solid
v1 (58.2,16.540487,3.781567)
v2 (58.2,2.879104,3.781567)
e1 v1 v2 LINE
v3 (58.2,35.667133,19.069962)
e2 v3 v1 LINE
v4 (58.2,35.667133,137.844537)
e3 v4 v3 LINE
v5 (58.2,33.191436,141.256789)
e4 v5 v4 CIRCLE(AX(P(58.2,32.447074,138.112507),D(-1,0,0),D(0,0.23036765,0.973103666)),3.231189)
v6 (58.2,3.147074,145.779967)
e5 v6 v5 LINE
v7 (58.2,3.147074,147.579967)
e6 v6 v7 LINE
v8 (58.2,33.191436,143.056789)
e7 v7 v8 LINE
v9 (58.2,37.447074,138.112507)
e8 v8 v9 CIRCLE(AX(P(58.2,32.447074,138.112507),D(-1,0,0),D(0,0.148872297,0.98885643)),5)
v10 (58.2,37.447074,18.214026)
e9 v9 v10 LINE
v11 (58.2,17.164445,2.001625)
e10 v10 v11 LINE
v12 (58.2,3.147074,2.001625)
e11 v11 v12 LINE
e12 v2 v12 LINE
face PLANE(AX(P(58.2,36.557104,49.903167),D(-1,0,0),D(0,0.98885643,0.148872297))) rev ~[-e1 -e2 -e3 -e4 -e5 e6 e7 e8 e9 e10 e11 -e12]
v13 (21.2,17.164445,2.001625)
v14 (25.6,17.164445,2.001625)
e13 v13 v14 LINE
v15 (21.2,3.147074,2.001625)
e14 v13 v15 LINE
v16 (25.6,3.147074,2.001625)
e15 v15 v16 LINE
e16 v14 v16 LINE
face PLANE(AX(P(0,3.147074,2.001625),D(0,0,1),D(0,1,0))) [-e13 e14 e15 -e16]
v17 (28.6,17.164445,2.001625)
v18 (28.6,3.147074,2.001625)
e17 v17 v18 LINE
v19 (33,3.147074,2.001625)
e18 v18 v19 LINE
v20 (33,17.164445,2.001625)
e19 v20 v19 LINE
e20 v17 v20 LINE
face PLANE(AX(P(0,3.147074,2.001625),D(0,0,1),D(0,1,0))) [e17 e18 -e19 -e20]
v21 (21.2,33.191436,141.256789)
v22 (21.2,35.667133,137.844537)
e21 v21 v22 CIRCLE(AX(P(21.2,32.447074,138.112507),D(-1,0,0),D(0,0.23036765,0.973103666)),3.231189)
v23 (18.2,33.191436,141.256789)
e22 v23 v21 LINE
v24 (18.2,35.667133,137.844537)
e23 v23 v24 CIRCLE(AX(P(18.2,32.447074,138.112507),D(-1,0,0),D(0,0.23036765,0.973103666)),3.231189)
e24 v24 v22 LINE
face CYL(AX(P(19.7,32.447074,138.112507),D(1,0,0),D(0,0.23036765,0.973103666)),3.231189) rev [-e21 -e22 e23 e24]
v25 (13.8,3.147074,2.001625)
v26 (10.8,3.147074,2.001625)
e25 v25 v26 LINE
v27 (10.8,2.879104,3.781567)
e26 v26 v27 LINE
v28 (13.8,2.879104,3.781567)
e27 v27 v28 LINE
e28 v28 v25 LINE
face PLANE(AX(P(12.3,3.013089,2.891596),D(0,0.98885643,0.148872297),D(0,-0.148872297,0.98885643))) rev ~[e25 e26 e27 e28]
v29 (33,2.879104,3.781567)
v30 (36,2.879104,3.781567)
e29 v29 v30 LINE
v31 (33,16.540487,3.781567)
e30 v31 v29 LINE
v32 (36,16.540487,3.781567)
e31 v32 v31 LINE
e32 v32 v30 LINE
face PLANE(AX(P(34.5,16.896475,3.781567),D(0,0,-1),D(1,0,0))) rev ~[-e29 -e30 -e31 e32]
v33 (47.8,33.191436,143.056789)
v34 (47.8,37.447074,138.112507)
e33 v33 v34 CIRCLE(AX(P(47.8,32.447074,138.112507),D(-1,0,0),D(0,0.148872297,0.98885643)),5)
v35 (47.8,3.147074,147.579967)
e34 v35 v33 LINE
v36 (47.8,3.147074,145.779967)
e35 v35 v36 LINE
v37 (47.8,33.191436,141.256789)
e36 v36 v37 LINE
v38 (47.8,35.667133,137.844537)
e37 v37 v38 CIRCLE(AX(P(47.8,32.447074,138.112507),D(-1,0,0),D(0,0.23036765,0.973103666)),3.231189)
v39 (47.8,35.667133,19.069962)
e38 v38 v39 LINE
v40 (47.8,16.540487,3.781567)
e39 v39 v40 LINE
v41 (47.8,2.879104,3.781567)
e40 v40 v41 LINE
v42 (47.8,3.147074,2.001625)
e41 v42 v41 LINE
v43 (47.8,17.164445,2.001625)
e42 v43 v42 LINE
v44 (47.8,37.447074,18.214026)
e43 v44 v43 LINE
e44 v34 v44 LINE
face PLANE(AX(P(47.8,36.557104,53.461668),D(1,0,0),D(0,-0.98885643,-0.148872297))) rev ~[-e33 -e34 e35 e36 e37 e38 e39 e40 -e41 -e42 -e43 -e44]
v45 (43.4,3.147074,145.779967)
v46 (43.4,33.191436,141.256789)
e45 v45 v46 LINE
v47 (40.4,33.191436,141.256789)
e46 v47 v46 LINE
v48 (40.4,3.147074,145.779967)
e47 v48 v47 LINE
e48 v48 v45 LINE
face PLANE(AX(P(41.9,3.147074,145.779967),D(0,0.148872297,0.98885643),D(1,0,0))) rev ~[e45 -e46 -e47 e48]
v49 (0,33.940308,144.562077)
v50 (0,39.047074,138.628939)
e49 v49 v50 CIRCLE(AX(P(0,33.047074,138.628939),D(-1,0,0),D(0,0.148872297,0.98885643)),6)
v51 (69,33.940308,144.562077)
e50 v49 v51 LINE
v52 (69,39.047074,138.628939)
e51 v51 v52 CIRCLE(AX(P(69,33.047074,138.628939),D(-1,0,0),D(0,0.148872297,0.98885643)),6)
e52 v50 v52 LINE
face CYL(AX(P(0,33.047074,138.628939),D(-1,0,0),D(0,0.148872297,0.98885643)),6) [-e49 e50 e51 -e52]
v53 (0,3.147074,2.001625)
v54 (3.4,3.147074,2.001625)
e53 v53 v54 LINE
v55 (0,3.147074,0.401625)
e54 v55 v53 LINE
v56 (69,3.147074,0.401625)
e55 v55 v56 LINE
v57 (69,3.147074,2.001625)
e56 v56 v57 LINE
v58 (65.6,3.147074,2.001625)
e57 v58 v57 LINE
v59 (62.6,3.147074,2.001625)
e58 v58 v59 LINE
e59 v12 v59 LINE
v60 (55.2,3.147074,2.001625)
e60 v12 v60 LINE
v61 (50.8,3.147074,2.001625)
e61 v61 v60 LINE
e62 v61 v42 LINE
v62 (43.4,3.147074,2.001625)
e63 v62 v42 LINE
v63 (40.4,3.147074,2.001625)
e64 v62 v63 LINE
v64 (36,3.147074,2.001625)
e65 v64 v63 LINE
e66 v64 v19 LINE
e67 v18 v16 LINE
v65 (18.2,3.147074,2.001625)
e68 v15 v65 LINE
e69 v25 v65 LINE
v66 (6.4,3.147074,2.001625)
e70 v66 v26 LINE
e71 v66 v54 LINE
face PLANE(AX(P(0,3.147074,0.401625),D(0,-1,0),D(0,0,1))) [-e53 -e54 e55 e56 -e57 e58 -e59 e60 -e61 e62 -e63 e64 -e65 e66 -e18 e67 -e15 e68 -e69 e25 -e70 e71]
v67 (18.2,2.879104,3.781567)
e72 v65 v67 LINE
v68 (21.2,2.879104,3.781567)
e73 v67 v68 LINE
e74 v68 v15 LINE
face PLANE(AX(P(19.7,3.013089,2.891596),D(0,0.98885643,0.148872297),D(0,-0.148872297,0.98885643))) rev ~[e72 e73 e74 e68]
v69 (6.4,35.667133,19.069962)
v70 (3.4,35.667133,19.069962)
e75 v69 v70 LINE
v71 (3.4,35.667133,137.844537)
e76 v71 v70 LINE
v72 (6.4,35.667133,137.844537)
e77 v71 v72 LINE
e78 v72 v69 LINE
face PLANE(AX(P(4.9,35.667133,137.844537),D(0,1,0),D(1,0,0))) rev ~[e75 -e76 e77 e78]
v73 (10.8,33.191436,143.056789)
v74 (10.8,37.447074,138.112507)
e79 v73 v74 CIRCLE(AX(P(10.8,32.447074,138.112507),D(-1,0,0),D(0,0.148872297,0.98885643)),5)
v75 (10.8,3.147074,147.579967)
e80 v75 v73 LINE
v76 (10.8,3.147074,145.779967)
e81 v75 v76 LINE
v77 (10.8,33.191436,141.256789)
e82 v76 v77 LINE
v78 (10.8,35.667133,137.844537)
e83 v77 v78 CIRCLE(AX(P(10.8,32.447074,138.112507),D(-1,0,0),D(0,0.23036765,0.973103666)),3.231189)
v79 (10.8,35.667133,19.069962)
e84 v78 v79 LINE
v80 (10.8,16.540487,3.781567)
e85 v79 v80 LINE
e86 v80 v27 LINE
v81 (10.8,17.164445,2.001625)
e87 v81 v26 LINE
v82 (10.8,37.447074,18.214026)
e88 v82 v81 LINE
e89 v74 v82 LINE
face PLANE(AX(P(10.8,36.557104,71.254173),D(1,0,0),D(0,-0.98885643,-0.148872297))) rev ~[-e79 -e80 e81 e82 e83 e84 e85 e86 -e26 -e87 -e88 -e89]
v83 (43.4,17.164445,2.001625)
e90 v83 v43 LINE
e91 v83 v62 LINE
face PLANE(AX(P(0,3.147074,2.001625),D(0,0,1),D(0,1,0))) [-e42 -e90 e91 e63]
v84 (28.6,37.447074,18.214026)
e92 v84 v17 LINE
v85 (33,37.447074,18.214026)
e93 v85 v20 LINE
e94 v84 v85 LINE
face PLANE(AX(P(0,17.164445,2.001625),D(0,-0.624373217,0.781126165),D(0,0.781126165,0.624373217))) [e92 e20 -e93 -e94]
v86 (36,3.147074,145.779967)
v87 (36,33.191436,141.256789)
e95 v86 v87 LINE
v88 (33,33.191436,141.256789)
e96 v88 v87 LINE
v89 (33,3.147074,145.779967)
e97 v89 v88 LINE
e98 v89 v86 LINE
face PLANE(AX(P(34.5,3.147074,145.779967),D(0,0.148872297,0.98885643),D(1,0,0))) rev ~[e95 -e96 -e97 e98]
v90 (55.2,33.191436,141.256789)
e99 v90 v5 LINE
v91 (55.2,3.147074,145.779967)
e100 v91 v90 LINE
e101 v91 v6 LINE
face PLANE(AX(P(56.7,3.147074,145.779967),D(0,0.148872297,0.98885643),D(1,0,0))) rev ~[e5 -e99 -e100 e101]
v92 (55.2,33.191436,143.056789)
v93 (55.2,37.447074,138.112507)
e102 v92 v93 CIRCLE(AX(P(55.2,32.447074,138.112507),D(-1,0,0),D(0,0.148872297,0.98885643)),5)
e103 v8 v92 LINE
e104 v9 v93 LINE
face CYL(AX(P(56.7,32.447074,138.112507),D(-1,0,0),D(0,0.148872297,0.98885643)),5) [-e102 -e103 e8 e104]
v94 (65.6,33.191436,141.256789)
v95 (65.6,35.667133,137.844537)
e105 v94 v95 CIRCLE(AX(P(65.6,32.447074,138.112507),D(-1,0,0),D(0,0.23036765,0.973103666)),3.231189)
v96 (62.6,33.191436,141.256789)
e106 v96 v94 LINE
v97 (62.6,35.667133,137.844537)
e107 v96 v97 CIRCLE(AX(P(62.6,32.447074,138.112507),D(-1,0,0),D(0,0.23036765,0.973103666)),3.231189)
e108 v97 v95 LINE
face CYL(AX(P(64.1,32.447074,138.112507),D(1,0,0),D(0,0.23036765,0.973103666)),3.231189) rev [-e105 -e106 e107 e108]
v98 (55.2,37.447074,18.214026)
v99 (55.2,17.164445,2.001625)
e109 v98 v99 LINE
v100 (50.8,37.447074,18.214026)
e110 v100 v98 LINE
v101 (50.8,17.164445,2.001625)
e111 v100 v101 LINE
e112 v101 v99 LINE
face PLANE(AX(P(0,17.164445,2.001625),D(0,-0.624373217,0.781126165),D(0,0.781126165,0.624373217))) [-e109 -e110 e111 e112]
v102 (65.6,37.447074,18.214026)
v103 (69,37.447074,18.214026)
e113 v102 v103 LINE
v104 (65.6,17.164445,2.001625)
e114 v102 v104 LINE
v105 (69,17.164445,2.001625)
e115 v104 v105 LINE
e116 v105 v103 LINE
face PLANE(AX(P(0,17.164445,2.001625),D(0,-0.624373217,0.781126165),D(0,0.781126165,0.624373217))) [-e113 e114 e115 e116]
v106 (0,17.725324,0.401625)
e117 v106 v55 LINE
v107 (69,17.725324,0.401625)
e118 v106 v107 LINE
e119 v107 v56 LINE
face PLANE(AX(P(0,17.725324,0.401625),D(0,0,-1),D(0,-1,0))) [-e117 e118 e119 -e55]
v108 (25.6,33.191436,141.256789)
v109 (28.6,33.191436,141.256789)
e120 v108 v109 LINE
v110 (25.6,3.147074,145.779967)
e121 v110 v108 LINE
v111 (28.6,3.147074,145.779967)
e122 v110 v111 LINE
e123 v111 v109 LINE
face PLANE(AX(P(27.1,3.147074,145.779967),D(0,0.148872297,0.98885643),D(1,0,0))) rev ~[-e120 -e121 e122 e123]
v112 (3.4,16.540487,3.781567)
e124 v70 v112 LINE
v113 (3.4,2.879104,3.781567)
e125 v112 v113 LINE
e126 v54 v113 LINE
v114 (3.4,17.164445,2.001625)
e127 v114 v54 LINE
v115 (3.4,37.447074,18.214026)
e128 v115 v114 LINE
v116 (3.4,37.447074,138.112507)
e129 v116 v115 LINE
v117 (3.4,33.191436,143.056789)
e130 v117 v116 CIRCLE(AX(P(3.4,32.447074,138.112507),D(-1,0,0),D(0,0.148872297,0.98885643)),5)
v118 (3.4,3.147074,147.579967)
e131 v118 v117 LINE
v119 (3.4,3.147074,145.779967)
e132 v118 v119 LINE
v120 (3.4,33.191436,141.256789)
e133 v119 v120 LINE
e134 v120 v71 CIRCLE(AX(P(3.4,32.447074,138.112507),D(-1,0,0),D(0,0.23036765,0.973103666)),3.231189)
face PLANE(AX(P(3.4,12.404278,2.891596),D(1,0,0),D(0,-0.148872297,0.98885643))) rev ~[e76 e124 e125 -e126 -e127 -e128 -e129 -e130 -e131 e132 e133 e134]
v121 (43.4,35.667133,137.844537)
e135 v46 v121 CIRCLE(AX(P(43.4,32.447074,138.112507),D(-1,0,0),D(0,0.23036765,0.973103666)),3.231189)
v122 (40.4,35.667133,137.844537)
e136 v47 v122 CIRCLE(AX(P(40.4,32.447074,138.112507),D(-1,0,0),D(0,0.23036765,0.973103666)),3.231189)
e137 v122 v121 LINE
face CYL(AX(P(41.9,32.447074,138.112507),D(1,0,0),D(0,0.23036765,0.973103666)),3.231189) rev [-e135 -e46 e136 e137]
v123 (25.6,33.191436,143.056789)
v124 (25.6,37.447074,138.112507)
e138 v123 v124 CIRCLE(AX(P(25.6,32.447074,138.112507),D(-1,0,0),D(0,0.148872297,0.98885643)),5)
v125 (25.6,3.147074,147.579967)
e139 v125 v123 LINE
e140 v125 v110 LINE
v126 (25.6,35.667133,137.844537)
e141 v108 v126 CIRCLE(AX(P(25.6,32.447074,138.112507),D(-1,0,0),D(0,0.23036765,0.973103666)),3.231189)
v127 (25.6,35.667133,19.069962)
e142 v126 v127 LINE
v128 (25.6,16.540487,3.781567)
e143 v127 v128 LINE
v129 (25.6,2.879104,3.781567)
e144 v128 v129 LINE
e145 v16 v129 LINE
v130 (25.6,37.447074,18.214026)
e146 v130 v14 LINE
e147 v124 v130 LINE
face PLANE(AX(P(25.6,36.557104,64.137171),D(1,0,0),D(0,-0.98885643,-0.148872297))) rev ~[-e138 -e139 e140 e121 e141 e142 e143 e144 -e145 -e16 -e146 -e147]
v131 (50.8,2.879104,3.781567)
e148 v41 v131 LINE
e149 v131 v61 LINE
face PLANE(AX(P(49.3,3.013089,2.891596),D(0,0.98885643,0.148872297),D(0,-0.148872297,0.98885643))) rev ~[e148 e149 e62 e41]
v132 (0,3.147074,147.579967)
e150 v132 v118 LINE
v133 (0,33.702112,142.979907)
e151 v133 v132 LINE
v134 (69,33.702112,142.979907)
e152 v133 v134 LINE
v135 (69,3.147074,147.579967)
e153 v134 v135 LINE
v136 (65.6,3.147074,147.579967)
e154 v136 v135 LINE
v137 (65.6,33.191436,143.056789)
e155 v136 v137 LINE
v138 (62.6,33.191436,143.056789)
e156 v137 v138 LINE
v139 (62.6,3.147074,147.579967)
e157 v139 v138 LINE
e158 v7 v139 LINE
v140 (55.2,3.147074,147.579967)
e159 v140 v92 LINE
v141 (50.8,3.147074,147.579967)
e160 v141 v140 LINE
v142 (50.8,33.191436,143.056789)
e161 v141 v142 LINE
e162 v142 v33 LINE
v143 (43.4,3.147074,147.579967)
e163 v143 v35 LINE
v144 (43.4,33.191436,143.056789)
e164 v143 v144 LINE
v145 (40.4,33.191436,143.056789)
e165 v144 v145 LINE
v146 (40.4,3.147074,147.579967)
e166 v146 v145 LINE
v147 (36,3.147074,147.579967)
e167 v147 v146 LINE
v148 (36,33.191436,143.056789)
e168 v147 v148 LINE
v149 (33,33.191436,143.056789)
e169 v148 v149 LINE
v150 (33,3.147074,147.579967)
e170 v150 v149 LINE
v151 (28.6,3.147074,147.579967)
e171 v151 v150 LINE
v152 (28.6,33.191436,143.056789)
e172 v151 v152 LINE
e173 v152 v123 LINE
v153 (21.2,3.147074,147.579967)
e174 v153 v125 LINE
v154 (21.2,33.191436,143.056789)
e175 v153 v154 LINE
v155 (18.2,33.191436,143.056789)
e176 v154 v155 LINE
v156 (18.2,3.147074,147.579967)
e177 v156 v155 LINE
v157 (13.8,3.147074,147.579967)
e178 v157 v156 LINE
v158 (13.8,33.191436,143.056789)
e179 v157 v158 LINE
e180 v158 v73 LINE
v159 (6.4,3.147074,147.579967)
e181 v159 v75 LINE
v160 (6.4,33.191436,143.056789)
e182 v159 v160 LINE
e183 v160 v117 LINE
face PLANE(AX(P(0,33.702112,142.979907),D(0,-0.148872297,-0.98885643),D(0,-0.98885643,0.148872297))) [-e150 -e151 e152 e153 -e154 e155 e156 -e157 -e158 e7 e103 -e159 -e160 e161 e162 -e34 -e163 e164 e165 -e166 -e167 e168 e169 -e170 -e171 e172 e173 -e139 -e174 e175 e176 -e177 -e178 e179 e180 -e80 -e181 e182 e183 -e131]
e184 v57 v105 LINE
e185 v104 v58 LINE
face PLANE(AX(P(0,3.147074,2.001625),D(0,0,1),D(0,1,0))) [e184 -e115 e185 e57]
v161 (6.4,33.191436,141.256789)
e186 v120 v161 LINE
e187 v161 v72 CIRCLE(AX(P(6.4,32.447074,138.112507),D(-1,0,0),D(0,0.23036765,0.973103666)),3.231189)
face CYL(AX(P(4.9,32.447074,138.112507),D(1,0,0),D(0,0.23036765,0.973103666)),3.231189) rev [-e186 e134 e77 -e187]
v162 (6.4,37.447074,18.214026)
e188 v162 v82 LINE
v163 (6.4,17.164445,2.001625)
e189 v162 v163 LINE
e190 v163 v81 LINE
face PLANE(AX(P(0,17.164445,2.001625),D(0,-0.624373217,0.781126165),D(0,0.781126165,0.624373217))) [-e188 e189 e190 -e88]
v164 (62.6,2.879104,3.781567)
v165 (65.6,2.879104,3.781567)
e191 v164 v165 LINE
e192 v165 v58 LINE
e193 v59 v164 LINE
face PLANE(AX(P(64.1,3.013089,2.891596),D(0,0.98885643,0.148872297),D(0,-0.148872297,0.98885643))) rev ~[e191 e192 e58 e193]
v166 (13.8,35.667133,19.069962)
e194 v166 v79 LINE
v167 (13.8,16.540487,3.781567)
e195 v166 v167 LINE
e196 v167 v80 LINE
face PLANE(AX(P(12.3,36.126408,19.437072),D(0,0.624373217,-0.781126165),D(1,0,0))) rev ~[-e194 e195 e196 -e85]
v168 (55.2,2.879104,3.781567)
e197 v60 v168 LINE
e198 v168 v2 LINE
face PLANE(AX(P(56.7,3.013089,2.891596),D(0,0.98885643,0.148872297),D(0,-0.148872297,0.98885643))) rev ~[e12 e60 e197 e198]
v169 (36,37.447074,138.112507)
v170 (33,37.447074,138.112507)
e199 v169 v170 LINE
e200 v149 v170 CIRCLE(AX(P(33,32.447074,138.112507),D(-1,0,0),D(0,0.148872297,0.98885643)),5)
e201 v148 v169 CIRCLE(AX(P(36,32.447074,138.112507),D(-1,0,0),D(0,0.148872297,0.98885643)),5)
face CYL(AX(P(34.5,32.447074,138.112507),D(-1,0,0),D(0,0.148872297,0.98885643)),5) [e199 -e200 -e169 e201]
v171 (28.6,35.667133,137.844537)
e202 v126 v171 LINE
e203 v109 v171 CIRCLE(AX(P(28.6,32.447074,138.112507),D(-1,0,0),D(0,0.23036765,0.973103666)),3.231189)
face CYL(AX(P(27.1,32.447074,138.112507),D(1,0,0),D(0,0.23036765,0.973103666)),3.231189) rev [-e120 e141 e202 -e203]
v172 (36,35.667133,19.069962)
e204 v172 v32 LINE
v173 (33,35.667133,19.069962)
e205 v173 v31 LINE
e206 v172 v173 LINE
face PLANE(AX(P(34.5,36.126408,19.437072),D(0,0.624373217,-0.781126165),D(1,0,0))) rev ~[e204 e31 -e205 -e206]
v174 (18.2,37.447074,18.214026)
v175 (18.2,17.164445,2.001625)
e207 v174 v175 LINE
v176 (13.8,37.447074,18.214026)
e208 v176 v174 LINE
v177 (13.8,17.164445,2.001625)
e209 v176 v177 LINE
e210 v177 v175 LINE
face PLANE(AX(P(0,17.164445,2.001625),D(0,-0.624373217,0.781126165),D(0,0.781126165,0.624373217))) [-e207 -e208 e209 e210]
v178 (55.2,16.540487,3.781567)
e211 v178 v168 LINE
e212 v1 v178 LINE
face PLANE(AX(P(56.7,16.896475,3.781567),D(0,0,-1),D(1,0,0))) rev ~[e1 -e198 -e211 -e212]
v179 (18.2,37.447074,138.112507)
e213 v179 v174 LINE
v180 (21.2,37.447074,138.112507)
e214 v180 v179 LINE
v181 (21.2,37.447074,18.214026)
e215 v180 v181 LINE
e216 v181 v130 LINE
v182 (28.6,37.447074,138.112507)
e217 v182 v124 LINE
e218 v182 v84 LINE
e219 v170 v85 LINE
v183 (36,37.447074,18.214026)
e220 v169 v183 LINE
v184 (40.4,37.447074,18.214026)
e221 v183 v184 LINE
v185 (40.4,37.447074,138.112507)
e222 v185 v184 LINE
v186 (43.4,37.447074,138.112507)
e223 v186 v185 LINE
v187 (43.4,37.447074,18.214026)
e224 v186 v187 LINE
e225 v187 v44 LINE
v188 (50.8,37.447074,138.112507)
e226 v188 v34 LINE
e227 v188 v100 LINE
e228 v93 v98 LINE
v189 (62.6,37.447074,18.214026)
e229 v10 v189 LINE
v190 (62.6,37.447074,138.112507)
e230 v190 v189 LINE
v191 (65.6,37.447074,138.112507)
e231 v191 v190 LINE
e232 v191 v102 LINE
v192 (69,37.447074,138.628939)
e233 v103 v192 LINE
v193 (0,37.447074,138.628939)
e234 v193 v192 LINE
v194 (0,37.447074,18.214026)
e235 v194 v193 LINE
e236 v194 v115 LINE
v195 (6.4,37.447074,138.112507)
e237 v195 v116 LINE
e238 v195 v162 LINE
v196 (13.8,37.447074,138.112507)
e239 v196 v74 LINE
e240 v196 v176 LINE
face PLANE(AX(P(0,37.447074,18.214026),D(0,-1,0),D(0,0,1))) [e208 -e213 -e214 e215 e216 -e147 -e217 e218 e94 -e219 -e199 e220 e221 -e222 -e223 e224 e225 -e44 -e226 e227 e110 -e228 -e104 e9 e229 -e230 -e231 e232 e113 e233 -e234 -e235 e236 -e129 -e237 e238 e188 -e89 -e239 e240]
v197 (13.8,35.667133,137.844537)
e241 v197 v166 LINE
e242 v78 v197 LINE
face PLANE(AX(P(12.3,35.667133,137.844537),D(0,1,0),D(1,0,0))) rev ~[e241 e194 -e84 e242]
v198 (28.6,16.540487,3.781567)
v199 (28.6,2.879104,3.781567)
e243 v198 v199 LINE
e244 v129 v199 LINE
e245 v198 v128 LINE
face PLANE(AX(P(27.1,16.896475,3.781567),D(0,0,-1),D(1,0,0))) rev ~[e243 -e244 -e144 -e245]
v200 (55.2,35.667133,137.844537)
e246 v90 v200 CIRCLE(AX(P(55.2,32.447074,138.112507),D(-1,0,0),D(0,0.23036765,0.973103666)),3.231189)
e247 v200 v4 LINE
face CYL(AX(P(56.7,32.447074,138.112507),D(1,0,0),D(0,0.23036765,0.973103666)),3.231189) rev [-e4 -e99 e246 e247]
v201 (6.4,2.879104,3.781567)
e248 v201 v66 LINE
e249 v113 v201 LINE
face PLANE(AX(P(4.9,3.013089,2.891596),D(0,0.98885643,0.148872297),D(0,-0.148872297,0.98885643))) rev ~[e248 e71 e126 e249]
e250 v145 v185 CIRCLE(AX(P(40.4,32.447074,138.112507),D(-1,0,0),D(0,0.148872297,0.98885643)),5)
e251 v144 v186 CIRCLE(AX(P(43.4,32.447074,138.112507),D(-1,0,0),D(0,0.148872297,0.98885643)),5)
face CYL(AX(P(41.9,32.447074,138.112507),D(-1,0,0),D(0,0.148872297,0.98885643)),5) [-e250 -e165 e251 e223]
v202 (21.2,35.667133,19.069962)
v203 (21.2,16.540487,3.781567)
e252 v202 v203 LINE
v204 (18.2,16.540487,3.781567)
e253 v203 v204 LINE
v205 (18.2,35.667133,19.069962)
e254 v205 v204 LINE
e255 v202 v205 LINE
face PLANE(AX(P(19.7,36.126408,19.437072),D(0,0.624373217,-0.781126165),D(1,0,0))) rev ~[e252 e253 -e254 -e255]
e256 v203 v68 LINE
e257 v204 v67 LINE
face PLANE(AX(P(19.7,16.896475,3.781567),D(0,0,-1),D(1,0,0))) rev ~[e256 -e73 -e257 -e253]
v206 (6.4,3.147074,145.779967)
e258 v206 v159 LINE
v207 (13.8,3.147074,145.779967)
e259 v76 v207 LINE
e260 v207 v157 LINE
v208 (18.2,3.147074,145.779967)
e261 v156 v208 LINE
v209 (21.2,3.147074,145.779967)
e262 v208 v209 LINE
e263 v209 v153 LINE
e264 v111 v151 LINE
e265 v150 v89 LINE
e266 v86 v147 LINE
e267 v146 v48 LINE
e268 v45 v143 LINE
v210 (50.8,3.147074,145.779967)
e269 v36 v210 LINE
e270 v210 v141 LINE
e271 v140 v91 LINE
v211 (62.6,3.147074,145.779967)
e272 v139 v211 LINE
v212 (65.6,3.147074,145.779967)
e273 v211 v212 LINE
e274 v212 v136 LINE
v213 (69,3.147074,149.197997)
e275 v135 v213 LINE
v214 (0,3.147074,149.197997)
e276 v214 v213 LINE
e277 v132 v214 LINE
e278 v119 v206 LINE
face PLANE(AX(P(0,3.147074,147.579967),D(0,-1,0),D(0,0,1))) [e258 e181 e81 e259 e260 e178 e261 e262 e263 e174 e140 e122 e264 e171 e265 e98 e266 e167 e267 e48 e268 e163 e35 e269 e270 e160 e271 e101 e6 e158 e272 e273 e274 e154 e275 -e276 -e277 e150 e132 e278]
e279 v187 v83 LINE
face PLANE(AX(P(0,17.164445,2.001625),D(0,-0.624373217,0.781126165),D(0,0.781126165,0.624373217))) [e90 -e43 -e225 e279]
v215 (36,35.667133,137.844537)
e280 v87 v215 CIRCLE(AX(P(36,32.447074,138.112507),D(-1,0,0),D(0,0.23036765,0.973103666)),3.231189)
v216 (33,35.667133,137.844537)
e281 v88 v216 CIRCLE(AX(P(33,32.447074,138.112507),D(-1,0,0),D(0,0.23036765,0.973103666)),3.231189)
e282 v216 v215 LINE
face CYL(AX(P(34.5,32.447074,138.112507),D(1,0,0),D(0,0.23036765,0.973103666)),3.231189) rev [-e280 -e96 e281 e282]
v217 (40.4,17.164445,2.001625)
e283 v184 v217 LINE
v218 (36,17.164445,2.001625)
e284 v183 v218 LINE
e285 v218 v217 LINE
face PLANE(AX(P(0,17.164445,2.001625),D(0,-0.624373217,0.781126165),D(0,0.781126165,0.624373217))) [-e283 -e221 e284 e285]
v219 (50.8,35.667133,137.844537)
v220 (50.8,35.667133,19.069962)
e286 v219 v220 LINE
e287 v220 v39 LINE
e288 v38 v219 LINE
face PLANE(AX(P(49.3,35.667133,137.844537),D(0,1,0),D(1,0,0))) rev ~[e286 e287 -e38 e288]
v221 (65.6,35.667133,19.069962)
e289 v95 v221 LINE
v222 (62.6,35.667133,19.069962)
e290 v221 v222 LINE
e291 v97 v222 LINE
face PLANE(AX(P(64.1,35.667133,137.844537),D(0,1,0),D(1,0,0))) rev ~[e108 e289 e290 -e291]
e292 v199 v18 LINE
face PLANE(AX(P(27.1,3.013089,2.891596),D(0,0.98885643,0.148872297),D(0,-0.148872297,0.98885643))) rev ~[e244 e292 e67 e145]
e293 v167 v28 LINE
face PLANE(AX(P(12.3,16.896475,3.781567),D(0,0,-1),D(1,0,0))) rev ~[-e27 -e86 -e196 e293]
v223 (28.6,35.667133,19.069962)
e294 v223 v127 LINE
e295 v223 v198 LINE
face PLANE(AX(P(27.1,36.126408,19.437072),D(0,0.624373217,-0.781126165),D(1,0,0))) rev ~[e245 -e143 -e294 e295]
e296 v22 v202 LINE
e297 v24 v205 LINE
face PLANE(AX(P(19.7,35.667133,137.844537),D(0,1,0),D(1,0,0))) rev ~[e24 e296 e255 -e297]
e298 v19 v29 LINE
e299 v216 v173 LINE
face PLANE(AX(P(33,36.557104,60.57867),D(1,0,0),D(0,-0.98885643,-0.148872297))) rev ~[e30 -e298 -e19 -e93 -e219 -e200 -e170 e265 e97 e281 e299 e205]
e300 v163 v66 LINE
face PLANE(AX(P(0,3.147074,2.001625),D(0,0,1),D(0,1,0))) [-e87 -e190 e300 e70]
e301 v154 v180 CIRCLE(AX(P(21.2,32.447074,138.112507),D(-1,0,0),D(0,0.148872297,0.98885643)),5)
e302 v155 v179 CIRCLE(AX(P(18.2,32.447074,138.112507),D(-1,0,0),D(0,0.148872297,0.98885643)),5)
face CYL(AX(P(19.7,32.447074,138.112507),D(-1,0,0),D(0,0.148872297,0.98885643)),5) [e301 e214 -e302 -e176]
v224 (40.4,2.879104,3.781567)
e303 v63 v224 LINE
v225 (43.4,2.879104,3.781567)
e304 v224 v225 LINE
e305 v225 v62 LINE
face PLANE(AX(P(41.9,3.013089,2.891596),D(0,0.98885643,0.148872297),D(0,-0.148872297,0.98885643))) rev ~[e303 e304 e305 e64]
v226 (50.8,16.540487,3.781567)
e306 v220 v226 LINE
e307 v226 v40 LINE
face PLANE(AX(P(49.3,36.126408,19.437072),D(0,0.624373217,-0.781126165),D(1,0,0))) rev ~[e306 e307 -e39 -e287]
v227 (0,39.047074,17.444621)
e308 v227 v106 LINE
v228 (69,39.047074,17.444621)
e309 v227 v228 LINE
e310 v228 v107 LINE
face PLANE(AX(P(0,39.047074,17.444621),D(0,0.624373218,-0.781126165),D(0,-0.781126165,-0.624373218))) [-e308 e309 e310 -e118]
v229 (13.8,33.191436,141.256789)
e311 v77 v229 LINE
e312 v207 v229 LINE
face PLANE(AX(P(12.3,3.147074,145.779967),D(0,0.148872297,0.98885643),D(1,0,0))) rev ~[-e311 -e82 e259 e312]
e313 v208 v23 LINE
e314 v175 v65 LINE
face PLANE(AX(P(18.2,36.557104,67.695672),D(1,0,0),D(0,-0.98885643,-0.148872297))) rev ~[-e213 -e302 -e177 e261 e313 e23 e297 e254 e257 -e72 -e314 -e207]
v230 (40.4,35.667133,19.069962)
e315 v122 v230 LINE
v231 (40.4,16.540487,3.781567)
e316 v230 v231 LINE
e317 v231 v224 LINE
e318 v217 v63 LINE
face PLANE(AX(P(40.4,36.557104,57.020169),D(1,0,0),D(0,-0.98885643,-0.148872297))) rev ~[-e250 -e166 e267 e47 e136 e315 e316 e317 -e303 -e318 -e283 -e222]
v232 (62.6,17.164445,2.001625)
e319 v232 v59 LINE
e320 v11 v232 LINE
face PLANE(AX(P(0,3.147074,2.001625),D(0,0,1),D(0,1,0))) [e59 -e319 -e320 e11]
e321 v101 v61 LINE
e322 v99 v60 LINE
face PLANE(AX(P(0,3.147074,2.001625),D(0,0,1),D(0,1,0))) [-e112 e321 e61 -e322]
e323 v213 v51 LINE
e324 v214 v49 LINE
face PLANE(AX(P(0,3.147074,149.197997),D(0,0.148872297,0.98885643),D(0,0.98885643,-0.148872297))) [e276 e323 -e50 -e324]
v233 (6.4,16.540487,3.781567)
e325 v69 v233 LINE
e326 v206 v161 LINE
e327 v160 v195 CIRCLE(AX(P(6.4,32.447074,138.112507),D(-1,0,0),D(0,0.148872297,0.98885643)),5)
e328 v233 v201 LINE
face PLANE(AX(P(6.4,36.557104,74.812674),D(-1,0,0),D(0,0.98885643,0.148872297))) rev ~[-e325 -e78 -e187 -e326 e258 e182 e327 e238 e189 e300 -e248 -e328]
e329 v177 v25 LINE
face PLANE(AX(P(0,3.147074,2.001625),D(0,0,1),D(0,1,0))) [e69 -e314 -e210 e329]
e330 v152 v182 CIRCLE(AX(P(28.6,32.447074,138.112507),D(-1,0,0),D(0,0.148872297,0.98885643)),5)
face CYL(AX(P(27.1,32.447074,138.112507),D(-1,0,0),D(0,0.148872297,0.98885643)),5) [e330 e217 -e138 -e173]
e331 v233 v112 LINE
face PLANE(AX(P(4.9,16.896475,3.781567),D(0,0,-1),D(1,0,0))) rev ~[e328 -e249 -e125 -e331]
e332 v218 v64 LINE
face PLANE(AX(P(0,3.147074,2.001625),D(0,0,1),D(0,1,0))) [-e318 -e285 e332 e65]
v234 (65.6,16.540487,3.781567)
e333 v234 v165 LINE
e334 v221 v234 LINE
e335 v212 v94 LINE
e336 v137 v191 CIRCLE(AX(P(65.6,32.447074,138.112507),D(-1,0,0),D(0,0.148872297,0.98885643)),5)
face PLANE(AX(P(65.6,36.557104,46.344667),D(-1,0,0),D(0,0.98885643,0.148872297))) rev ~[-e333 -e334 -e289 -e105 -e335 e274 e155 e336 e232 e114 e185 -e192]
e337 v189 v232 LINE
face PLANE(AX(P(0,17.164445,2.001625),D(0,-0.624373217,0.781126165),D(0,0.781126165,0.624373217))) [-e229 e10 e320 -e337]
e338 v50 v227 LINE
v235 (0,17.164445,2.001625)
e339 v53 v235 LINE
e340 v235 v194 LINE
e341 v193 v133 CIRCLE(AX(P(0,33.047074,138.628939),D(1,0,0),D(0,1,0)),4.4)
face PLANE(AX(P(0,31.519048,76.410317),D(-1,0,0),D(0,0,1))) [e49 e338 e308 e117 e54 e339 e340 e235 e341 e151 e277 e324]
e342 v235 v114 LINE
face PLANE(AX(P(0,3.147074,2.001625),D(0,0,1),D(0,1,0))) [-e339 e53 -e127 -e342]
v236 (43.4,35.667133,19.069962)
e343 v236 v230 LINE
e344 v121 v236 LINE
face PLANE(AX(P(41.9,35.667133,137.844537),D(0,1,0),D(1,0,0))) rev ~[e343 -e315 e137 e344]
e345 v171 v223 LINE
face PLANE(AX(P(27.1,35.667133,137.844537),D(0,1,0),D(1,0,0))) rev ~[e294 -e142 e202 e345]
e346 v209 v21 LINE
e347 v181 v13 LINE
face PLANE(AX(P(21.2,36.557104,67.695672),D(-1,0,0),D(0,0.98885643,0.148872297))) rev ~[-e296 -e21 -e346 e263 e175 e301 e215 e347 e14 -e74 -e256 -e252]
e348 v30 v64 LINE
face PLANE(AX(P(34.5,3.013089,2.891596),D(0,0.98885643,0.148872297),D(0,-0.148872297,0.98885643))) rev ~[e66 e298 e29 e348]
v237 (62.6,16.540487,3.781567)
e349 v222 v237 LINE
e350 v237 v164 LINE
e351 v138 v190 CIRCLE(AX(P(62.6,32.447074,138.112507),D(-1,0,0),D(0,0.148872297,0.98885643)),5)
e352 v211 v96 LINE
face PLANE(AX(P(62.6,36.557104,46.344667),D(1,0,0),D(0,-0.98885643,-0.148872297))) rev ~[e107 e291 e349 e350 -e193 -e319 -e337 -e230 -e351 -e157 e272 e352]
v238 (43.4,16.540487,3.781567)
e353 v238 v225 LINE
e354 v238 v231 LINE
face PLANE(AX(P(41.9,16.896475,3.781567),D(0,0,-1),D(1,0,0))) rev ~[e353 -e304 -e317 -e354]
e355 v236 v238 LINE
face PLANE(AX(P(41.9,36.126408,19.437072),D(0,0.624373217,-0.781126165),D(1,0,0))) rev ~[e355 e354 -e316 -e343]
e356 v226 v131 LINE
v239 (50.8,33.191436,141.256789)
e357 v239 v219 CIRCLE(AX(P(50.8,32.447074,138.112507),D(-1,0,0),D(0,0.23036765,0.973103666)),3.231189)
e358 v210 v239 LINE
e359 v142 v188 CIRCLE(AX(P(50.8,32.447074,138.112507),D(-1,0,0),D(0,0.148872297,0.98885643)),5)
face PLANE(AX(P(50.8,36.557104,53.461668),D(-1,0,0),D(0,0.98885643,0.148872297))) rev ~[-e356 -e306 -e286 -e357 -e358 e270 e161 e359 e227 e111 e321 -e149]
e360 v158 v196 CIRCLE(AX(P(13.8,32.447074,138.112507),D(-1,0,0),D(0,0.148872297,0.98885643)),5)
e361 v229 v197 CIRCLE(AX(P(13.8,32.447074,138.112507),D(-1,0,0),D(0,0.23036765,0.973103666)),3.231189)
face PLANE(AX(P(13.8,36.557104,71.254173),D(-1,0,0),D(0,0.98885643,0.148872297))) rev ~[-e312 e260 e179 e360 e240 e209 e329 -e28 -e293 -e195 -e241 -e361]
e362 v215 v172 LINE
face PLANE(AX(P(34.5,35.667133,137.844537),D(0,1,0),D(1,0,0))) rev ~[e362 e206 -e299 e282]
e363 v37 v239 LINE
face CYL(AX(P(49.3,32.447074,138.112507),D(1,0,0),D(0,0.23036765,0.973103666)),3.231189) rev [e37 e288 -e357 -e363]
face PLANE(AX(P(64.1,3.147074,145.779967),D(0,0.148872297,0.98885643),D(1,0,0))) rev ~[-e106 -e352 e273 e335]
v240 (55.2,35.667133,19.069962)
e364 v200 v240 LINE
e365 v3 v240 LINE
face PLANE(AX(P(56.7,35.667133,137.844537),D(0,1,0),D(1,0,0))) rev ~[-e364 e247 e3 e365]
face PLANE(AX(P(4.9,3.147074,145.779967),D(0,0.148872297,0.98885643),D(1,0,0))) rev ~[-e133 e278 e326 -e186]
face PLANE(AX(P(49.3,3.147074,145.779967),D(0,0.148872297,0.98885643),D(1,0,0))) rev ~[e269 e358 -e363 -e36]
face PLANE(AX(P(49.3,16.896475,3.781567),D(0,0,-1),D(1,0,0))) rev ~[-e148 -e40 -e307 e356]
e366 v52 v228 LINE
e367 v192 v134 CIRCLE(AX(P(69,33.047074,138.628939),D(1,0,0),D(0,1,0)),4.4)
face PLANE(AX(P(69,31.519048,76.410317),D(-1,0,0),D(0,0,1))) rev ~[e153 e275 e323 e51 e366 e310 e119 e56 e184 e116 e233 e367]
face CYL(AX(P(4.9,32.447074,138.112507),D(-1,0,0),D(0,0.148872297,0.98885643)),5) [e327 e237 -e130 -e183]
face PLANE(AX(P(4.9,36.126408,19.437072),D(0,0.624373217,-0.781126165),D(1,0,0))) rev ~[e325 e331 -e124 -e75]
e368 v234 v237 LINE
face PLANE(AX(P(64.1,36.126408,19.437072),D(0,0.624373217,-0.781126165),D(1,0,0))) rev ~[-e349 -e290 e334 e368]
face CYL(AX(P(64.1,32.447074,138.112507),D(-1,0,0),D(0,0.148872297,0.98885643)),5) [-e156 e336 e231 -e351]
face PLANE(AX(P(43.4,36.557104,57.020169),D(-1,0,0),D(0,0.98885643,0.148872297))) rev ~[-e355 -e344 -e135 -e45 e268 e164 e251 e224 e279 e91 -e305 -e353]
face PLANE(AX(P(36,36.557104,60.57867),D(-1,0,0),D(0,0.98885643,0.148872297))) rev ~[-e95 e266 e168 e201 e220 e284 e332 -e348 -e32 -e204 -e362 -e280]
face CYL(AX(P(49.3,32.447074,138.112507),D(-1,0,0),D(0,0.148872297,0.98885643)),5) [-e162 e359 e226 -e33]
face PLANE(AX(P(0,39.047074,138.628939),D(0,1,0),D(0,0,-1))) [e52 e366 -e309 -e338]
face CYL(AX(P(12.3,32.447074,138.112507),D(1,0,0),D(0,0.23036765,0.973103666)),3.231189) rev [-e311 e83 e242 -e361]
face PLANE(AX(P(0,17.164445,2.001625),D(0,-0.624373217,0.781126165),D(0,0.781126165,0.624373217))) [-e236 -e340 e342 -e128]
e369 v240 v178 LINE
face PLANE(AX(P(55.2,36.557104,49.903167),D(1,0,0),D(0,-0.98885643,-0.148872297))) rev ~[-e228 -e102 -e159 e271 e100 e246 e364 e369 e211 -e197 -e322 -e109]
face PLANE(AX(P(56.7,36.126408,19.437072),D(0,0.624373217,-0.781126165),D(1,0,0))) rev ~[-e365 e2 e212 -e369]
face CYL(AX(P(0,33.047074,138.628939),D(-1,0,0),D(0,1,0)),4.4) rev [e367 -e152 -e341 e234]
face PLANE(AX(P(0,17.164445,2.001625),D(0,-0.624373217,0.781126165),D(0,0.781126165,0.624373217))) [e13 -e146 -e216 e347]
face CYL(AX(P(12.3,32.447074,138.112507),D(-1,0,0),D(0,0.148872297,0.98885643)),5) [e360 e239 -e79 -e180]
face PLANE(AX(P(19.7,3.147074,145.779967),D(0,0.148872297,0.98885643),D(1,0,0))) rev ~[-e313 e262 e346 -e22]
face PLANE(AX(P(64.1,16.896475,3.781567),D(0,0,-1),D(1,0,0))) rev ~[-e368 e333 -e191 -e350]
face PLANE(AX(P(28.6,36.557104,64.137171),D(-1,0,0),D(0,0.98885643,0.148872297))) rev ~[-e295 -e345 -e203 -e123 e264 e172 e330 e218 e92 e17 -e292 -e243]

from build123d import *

# Parameters (mm, degrees)
EXTRUDE_1_DEPTH = 69
SKETCH_7_W      = 3
SKETCH_7_H      = 1.8


with BuildPart() as part:
    # 草图2 → 凸台-拉伸1 (new body)
    with BuildSketch(Plane(origin=(0, 0, 0), x_dir=(0, 0, -1), z_dir=(1, 0, 0))):
        with BuildLine():
            Line((-2.001625282, 3.147074334), (-2.001625282, 17.164444968))
            Line((-2.001625282, 17.164444968), (-18.214026207, 37.447074334))
            Line((-18.214026207, 37.447074334), (-138.628938569, 37.447074334))
            ThreePointArc((-138.628938569, 37.447074334), (-141.499289796, 36.38190324), (-142.979906861, 33.70211244))
            Line((-142.979906861, 33.70211244), (-147.579966657, 3.147074334))
            Line((-147.579966657, 3.147074334), (-149.197997295, 3.147074334))
            Line((-149.197997295, 3.147074334), (-144.562077149, 33.940308116))
            ThreePointArc((-144.562077149, 33.940308116), (-142.543053879, 37.594568297), (-138.628938569, 39.047074334))
            Line((-138.628938569, 39.047074334), (-17.444620599, 39.047074334))
            Line((-17.444620599, 39.047074334), (-0.401625282, 17.725324466))
            Line((-0.401625282, 17.725324466), (-0.401625282, 3.147074334))
            Line((-0.401625282, 3.147074334), (-2.001625282, 3.147074334))
        make_face()
    extrude(amount=EXTRUDE_1_DEPTH)

    # 扫描1: sweep along a path in 草图17
    with BuildLine(Plane.ZY) as sweep_1_path:
        Line((147.579966657, 3.147074334), (143.056789207, 33.191435819))
        ThreePointArc((143.056789207, 33.191435819), (141.374269815, 36.236652636), (138.112507057, 37.447074334))
        Line((138.112507057, 37.447074334), (18.214026207, 37.447074334))
        Line((18.214026207, 37.447074334), (2.001625282, 17.164444968))
        Line((2.001625282, 17.164444968), (2.001625282, 3.147074334))
    # 草图7 → 扫描1 (sweep)
    with BuildSketch(Plane.XZ.offset(-3.147074334)):
        with Locations((34.5, 146.679966657)):
            Rectangle(SKETCH_7_W, SKETCH_7_H)
        with Locations((27.1, 146.679966657)):
            Rectangle(SKETCH_7_W, SKETCH_7_H)
        with Locations((19.7, 146.679966657)):
            Rectangle(SKETCH_7_W, SKETCH_7_H)
        with Locations((12.3, 146.679966657)):
            Rectangle(SKETCH_7_W, SKETCH_7_H)
        with Locations((4.9, 146.679966657)):
            Rectangle(SKETCH_7_W, SKETCH_7_H)
        with Locations((41.9, 146.679966657)):
            Rectangle(SKETCH_7_W, SKETCH_7_H)
        with Locations((49.3, 146.679966657)):
            Rectangle(SKETCH_7_W, SKETCH_7_H)
        with Locations((56.7, 146.679966657)):
            Rectangle(SKETCH_7_W, SKETCH_7_H)
        with Locations((64.1, 146.679966657)):
            Rectangle(SKETCH_7_W, SKETCH_7_H)
    sweep(path=sweep_1_path.line, transition=Transition.RIGHT)


solid = part.part
